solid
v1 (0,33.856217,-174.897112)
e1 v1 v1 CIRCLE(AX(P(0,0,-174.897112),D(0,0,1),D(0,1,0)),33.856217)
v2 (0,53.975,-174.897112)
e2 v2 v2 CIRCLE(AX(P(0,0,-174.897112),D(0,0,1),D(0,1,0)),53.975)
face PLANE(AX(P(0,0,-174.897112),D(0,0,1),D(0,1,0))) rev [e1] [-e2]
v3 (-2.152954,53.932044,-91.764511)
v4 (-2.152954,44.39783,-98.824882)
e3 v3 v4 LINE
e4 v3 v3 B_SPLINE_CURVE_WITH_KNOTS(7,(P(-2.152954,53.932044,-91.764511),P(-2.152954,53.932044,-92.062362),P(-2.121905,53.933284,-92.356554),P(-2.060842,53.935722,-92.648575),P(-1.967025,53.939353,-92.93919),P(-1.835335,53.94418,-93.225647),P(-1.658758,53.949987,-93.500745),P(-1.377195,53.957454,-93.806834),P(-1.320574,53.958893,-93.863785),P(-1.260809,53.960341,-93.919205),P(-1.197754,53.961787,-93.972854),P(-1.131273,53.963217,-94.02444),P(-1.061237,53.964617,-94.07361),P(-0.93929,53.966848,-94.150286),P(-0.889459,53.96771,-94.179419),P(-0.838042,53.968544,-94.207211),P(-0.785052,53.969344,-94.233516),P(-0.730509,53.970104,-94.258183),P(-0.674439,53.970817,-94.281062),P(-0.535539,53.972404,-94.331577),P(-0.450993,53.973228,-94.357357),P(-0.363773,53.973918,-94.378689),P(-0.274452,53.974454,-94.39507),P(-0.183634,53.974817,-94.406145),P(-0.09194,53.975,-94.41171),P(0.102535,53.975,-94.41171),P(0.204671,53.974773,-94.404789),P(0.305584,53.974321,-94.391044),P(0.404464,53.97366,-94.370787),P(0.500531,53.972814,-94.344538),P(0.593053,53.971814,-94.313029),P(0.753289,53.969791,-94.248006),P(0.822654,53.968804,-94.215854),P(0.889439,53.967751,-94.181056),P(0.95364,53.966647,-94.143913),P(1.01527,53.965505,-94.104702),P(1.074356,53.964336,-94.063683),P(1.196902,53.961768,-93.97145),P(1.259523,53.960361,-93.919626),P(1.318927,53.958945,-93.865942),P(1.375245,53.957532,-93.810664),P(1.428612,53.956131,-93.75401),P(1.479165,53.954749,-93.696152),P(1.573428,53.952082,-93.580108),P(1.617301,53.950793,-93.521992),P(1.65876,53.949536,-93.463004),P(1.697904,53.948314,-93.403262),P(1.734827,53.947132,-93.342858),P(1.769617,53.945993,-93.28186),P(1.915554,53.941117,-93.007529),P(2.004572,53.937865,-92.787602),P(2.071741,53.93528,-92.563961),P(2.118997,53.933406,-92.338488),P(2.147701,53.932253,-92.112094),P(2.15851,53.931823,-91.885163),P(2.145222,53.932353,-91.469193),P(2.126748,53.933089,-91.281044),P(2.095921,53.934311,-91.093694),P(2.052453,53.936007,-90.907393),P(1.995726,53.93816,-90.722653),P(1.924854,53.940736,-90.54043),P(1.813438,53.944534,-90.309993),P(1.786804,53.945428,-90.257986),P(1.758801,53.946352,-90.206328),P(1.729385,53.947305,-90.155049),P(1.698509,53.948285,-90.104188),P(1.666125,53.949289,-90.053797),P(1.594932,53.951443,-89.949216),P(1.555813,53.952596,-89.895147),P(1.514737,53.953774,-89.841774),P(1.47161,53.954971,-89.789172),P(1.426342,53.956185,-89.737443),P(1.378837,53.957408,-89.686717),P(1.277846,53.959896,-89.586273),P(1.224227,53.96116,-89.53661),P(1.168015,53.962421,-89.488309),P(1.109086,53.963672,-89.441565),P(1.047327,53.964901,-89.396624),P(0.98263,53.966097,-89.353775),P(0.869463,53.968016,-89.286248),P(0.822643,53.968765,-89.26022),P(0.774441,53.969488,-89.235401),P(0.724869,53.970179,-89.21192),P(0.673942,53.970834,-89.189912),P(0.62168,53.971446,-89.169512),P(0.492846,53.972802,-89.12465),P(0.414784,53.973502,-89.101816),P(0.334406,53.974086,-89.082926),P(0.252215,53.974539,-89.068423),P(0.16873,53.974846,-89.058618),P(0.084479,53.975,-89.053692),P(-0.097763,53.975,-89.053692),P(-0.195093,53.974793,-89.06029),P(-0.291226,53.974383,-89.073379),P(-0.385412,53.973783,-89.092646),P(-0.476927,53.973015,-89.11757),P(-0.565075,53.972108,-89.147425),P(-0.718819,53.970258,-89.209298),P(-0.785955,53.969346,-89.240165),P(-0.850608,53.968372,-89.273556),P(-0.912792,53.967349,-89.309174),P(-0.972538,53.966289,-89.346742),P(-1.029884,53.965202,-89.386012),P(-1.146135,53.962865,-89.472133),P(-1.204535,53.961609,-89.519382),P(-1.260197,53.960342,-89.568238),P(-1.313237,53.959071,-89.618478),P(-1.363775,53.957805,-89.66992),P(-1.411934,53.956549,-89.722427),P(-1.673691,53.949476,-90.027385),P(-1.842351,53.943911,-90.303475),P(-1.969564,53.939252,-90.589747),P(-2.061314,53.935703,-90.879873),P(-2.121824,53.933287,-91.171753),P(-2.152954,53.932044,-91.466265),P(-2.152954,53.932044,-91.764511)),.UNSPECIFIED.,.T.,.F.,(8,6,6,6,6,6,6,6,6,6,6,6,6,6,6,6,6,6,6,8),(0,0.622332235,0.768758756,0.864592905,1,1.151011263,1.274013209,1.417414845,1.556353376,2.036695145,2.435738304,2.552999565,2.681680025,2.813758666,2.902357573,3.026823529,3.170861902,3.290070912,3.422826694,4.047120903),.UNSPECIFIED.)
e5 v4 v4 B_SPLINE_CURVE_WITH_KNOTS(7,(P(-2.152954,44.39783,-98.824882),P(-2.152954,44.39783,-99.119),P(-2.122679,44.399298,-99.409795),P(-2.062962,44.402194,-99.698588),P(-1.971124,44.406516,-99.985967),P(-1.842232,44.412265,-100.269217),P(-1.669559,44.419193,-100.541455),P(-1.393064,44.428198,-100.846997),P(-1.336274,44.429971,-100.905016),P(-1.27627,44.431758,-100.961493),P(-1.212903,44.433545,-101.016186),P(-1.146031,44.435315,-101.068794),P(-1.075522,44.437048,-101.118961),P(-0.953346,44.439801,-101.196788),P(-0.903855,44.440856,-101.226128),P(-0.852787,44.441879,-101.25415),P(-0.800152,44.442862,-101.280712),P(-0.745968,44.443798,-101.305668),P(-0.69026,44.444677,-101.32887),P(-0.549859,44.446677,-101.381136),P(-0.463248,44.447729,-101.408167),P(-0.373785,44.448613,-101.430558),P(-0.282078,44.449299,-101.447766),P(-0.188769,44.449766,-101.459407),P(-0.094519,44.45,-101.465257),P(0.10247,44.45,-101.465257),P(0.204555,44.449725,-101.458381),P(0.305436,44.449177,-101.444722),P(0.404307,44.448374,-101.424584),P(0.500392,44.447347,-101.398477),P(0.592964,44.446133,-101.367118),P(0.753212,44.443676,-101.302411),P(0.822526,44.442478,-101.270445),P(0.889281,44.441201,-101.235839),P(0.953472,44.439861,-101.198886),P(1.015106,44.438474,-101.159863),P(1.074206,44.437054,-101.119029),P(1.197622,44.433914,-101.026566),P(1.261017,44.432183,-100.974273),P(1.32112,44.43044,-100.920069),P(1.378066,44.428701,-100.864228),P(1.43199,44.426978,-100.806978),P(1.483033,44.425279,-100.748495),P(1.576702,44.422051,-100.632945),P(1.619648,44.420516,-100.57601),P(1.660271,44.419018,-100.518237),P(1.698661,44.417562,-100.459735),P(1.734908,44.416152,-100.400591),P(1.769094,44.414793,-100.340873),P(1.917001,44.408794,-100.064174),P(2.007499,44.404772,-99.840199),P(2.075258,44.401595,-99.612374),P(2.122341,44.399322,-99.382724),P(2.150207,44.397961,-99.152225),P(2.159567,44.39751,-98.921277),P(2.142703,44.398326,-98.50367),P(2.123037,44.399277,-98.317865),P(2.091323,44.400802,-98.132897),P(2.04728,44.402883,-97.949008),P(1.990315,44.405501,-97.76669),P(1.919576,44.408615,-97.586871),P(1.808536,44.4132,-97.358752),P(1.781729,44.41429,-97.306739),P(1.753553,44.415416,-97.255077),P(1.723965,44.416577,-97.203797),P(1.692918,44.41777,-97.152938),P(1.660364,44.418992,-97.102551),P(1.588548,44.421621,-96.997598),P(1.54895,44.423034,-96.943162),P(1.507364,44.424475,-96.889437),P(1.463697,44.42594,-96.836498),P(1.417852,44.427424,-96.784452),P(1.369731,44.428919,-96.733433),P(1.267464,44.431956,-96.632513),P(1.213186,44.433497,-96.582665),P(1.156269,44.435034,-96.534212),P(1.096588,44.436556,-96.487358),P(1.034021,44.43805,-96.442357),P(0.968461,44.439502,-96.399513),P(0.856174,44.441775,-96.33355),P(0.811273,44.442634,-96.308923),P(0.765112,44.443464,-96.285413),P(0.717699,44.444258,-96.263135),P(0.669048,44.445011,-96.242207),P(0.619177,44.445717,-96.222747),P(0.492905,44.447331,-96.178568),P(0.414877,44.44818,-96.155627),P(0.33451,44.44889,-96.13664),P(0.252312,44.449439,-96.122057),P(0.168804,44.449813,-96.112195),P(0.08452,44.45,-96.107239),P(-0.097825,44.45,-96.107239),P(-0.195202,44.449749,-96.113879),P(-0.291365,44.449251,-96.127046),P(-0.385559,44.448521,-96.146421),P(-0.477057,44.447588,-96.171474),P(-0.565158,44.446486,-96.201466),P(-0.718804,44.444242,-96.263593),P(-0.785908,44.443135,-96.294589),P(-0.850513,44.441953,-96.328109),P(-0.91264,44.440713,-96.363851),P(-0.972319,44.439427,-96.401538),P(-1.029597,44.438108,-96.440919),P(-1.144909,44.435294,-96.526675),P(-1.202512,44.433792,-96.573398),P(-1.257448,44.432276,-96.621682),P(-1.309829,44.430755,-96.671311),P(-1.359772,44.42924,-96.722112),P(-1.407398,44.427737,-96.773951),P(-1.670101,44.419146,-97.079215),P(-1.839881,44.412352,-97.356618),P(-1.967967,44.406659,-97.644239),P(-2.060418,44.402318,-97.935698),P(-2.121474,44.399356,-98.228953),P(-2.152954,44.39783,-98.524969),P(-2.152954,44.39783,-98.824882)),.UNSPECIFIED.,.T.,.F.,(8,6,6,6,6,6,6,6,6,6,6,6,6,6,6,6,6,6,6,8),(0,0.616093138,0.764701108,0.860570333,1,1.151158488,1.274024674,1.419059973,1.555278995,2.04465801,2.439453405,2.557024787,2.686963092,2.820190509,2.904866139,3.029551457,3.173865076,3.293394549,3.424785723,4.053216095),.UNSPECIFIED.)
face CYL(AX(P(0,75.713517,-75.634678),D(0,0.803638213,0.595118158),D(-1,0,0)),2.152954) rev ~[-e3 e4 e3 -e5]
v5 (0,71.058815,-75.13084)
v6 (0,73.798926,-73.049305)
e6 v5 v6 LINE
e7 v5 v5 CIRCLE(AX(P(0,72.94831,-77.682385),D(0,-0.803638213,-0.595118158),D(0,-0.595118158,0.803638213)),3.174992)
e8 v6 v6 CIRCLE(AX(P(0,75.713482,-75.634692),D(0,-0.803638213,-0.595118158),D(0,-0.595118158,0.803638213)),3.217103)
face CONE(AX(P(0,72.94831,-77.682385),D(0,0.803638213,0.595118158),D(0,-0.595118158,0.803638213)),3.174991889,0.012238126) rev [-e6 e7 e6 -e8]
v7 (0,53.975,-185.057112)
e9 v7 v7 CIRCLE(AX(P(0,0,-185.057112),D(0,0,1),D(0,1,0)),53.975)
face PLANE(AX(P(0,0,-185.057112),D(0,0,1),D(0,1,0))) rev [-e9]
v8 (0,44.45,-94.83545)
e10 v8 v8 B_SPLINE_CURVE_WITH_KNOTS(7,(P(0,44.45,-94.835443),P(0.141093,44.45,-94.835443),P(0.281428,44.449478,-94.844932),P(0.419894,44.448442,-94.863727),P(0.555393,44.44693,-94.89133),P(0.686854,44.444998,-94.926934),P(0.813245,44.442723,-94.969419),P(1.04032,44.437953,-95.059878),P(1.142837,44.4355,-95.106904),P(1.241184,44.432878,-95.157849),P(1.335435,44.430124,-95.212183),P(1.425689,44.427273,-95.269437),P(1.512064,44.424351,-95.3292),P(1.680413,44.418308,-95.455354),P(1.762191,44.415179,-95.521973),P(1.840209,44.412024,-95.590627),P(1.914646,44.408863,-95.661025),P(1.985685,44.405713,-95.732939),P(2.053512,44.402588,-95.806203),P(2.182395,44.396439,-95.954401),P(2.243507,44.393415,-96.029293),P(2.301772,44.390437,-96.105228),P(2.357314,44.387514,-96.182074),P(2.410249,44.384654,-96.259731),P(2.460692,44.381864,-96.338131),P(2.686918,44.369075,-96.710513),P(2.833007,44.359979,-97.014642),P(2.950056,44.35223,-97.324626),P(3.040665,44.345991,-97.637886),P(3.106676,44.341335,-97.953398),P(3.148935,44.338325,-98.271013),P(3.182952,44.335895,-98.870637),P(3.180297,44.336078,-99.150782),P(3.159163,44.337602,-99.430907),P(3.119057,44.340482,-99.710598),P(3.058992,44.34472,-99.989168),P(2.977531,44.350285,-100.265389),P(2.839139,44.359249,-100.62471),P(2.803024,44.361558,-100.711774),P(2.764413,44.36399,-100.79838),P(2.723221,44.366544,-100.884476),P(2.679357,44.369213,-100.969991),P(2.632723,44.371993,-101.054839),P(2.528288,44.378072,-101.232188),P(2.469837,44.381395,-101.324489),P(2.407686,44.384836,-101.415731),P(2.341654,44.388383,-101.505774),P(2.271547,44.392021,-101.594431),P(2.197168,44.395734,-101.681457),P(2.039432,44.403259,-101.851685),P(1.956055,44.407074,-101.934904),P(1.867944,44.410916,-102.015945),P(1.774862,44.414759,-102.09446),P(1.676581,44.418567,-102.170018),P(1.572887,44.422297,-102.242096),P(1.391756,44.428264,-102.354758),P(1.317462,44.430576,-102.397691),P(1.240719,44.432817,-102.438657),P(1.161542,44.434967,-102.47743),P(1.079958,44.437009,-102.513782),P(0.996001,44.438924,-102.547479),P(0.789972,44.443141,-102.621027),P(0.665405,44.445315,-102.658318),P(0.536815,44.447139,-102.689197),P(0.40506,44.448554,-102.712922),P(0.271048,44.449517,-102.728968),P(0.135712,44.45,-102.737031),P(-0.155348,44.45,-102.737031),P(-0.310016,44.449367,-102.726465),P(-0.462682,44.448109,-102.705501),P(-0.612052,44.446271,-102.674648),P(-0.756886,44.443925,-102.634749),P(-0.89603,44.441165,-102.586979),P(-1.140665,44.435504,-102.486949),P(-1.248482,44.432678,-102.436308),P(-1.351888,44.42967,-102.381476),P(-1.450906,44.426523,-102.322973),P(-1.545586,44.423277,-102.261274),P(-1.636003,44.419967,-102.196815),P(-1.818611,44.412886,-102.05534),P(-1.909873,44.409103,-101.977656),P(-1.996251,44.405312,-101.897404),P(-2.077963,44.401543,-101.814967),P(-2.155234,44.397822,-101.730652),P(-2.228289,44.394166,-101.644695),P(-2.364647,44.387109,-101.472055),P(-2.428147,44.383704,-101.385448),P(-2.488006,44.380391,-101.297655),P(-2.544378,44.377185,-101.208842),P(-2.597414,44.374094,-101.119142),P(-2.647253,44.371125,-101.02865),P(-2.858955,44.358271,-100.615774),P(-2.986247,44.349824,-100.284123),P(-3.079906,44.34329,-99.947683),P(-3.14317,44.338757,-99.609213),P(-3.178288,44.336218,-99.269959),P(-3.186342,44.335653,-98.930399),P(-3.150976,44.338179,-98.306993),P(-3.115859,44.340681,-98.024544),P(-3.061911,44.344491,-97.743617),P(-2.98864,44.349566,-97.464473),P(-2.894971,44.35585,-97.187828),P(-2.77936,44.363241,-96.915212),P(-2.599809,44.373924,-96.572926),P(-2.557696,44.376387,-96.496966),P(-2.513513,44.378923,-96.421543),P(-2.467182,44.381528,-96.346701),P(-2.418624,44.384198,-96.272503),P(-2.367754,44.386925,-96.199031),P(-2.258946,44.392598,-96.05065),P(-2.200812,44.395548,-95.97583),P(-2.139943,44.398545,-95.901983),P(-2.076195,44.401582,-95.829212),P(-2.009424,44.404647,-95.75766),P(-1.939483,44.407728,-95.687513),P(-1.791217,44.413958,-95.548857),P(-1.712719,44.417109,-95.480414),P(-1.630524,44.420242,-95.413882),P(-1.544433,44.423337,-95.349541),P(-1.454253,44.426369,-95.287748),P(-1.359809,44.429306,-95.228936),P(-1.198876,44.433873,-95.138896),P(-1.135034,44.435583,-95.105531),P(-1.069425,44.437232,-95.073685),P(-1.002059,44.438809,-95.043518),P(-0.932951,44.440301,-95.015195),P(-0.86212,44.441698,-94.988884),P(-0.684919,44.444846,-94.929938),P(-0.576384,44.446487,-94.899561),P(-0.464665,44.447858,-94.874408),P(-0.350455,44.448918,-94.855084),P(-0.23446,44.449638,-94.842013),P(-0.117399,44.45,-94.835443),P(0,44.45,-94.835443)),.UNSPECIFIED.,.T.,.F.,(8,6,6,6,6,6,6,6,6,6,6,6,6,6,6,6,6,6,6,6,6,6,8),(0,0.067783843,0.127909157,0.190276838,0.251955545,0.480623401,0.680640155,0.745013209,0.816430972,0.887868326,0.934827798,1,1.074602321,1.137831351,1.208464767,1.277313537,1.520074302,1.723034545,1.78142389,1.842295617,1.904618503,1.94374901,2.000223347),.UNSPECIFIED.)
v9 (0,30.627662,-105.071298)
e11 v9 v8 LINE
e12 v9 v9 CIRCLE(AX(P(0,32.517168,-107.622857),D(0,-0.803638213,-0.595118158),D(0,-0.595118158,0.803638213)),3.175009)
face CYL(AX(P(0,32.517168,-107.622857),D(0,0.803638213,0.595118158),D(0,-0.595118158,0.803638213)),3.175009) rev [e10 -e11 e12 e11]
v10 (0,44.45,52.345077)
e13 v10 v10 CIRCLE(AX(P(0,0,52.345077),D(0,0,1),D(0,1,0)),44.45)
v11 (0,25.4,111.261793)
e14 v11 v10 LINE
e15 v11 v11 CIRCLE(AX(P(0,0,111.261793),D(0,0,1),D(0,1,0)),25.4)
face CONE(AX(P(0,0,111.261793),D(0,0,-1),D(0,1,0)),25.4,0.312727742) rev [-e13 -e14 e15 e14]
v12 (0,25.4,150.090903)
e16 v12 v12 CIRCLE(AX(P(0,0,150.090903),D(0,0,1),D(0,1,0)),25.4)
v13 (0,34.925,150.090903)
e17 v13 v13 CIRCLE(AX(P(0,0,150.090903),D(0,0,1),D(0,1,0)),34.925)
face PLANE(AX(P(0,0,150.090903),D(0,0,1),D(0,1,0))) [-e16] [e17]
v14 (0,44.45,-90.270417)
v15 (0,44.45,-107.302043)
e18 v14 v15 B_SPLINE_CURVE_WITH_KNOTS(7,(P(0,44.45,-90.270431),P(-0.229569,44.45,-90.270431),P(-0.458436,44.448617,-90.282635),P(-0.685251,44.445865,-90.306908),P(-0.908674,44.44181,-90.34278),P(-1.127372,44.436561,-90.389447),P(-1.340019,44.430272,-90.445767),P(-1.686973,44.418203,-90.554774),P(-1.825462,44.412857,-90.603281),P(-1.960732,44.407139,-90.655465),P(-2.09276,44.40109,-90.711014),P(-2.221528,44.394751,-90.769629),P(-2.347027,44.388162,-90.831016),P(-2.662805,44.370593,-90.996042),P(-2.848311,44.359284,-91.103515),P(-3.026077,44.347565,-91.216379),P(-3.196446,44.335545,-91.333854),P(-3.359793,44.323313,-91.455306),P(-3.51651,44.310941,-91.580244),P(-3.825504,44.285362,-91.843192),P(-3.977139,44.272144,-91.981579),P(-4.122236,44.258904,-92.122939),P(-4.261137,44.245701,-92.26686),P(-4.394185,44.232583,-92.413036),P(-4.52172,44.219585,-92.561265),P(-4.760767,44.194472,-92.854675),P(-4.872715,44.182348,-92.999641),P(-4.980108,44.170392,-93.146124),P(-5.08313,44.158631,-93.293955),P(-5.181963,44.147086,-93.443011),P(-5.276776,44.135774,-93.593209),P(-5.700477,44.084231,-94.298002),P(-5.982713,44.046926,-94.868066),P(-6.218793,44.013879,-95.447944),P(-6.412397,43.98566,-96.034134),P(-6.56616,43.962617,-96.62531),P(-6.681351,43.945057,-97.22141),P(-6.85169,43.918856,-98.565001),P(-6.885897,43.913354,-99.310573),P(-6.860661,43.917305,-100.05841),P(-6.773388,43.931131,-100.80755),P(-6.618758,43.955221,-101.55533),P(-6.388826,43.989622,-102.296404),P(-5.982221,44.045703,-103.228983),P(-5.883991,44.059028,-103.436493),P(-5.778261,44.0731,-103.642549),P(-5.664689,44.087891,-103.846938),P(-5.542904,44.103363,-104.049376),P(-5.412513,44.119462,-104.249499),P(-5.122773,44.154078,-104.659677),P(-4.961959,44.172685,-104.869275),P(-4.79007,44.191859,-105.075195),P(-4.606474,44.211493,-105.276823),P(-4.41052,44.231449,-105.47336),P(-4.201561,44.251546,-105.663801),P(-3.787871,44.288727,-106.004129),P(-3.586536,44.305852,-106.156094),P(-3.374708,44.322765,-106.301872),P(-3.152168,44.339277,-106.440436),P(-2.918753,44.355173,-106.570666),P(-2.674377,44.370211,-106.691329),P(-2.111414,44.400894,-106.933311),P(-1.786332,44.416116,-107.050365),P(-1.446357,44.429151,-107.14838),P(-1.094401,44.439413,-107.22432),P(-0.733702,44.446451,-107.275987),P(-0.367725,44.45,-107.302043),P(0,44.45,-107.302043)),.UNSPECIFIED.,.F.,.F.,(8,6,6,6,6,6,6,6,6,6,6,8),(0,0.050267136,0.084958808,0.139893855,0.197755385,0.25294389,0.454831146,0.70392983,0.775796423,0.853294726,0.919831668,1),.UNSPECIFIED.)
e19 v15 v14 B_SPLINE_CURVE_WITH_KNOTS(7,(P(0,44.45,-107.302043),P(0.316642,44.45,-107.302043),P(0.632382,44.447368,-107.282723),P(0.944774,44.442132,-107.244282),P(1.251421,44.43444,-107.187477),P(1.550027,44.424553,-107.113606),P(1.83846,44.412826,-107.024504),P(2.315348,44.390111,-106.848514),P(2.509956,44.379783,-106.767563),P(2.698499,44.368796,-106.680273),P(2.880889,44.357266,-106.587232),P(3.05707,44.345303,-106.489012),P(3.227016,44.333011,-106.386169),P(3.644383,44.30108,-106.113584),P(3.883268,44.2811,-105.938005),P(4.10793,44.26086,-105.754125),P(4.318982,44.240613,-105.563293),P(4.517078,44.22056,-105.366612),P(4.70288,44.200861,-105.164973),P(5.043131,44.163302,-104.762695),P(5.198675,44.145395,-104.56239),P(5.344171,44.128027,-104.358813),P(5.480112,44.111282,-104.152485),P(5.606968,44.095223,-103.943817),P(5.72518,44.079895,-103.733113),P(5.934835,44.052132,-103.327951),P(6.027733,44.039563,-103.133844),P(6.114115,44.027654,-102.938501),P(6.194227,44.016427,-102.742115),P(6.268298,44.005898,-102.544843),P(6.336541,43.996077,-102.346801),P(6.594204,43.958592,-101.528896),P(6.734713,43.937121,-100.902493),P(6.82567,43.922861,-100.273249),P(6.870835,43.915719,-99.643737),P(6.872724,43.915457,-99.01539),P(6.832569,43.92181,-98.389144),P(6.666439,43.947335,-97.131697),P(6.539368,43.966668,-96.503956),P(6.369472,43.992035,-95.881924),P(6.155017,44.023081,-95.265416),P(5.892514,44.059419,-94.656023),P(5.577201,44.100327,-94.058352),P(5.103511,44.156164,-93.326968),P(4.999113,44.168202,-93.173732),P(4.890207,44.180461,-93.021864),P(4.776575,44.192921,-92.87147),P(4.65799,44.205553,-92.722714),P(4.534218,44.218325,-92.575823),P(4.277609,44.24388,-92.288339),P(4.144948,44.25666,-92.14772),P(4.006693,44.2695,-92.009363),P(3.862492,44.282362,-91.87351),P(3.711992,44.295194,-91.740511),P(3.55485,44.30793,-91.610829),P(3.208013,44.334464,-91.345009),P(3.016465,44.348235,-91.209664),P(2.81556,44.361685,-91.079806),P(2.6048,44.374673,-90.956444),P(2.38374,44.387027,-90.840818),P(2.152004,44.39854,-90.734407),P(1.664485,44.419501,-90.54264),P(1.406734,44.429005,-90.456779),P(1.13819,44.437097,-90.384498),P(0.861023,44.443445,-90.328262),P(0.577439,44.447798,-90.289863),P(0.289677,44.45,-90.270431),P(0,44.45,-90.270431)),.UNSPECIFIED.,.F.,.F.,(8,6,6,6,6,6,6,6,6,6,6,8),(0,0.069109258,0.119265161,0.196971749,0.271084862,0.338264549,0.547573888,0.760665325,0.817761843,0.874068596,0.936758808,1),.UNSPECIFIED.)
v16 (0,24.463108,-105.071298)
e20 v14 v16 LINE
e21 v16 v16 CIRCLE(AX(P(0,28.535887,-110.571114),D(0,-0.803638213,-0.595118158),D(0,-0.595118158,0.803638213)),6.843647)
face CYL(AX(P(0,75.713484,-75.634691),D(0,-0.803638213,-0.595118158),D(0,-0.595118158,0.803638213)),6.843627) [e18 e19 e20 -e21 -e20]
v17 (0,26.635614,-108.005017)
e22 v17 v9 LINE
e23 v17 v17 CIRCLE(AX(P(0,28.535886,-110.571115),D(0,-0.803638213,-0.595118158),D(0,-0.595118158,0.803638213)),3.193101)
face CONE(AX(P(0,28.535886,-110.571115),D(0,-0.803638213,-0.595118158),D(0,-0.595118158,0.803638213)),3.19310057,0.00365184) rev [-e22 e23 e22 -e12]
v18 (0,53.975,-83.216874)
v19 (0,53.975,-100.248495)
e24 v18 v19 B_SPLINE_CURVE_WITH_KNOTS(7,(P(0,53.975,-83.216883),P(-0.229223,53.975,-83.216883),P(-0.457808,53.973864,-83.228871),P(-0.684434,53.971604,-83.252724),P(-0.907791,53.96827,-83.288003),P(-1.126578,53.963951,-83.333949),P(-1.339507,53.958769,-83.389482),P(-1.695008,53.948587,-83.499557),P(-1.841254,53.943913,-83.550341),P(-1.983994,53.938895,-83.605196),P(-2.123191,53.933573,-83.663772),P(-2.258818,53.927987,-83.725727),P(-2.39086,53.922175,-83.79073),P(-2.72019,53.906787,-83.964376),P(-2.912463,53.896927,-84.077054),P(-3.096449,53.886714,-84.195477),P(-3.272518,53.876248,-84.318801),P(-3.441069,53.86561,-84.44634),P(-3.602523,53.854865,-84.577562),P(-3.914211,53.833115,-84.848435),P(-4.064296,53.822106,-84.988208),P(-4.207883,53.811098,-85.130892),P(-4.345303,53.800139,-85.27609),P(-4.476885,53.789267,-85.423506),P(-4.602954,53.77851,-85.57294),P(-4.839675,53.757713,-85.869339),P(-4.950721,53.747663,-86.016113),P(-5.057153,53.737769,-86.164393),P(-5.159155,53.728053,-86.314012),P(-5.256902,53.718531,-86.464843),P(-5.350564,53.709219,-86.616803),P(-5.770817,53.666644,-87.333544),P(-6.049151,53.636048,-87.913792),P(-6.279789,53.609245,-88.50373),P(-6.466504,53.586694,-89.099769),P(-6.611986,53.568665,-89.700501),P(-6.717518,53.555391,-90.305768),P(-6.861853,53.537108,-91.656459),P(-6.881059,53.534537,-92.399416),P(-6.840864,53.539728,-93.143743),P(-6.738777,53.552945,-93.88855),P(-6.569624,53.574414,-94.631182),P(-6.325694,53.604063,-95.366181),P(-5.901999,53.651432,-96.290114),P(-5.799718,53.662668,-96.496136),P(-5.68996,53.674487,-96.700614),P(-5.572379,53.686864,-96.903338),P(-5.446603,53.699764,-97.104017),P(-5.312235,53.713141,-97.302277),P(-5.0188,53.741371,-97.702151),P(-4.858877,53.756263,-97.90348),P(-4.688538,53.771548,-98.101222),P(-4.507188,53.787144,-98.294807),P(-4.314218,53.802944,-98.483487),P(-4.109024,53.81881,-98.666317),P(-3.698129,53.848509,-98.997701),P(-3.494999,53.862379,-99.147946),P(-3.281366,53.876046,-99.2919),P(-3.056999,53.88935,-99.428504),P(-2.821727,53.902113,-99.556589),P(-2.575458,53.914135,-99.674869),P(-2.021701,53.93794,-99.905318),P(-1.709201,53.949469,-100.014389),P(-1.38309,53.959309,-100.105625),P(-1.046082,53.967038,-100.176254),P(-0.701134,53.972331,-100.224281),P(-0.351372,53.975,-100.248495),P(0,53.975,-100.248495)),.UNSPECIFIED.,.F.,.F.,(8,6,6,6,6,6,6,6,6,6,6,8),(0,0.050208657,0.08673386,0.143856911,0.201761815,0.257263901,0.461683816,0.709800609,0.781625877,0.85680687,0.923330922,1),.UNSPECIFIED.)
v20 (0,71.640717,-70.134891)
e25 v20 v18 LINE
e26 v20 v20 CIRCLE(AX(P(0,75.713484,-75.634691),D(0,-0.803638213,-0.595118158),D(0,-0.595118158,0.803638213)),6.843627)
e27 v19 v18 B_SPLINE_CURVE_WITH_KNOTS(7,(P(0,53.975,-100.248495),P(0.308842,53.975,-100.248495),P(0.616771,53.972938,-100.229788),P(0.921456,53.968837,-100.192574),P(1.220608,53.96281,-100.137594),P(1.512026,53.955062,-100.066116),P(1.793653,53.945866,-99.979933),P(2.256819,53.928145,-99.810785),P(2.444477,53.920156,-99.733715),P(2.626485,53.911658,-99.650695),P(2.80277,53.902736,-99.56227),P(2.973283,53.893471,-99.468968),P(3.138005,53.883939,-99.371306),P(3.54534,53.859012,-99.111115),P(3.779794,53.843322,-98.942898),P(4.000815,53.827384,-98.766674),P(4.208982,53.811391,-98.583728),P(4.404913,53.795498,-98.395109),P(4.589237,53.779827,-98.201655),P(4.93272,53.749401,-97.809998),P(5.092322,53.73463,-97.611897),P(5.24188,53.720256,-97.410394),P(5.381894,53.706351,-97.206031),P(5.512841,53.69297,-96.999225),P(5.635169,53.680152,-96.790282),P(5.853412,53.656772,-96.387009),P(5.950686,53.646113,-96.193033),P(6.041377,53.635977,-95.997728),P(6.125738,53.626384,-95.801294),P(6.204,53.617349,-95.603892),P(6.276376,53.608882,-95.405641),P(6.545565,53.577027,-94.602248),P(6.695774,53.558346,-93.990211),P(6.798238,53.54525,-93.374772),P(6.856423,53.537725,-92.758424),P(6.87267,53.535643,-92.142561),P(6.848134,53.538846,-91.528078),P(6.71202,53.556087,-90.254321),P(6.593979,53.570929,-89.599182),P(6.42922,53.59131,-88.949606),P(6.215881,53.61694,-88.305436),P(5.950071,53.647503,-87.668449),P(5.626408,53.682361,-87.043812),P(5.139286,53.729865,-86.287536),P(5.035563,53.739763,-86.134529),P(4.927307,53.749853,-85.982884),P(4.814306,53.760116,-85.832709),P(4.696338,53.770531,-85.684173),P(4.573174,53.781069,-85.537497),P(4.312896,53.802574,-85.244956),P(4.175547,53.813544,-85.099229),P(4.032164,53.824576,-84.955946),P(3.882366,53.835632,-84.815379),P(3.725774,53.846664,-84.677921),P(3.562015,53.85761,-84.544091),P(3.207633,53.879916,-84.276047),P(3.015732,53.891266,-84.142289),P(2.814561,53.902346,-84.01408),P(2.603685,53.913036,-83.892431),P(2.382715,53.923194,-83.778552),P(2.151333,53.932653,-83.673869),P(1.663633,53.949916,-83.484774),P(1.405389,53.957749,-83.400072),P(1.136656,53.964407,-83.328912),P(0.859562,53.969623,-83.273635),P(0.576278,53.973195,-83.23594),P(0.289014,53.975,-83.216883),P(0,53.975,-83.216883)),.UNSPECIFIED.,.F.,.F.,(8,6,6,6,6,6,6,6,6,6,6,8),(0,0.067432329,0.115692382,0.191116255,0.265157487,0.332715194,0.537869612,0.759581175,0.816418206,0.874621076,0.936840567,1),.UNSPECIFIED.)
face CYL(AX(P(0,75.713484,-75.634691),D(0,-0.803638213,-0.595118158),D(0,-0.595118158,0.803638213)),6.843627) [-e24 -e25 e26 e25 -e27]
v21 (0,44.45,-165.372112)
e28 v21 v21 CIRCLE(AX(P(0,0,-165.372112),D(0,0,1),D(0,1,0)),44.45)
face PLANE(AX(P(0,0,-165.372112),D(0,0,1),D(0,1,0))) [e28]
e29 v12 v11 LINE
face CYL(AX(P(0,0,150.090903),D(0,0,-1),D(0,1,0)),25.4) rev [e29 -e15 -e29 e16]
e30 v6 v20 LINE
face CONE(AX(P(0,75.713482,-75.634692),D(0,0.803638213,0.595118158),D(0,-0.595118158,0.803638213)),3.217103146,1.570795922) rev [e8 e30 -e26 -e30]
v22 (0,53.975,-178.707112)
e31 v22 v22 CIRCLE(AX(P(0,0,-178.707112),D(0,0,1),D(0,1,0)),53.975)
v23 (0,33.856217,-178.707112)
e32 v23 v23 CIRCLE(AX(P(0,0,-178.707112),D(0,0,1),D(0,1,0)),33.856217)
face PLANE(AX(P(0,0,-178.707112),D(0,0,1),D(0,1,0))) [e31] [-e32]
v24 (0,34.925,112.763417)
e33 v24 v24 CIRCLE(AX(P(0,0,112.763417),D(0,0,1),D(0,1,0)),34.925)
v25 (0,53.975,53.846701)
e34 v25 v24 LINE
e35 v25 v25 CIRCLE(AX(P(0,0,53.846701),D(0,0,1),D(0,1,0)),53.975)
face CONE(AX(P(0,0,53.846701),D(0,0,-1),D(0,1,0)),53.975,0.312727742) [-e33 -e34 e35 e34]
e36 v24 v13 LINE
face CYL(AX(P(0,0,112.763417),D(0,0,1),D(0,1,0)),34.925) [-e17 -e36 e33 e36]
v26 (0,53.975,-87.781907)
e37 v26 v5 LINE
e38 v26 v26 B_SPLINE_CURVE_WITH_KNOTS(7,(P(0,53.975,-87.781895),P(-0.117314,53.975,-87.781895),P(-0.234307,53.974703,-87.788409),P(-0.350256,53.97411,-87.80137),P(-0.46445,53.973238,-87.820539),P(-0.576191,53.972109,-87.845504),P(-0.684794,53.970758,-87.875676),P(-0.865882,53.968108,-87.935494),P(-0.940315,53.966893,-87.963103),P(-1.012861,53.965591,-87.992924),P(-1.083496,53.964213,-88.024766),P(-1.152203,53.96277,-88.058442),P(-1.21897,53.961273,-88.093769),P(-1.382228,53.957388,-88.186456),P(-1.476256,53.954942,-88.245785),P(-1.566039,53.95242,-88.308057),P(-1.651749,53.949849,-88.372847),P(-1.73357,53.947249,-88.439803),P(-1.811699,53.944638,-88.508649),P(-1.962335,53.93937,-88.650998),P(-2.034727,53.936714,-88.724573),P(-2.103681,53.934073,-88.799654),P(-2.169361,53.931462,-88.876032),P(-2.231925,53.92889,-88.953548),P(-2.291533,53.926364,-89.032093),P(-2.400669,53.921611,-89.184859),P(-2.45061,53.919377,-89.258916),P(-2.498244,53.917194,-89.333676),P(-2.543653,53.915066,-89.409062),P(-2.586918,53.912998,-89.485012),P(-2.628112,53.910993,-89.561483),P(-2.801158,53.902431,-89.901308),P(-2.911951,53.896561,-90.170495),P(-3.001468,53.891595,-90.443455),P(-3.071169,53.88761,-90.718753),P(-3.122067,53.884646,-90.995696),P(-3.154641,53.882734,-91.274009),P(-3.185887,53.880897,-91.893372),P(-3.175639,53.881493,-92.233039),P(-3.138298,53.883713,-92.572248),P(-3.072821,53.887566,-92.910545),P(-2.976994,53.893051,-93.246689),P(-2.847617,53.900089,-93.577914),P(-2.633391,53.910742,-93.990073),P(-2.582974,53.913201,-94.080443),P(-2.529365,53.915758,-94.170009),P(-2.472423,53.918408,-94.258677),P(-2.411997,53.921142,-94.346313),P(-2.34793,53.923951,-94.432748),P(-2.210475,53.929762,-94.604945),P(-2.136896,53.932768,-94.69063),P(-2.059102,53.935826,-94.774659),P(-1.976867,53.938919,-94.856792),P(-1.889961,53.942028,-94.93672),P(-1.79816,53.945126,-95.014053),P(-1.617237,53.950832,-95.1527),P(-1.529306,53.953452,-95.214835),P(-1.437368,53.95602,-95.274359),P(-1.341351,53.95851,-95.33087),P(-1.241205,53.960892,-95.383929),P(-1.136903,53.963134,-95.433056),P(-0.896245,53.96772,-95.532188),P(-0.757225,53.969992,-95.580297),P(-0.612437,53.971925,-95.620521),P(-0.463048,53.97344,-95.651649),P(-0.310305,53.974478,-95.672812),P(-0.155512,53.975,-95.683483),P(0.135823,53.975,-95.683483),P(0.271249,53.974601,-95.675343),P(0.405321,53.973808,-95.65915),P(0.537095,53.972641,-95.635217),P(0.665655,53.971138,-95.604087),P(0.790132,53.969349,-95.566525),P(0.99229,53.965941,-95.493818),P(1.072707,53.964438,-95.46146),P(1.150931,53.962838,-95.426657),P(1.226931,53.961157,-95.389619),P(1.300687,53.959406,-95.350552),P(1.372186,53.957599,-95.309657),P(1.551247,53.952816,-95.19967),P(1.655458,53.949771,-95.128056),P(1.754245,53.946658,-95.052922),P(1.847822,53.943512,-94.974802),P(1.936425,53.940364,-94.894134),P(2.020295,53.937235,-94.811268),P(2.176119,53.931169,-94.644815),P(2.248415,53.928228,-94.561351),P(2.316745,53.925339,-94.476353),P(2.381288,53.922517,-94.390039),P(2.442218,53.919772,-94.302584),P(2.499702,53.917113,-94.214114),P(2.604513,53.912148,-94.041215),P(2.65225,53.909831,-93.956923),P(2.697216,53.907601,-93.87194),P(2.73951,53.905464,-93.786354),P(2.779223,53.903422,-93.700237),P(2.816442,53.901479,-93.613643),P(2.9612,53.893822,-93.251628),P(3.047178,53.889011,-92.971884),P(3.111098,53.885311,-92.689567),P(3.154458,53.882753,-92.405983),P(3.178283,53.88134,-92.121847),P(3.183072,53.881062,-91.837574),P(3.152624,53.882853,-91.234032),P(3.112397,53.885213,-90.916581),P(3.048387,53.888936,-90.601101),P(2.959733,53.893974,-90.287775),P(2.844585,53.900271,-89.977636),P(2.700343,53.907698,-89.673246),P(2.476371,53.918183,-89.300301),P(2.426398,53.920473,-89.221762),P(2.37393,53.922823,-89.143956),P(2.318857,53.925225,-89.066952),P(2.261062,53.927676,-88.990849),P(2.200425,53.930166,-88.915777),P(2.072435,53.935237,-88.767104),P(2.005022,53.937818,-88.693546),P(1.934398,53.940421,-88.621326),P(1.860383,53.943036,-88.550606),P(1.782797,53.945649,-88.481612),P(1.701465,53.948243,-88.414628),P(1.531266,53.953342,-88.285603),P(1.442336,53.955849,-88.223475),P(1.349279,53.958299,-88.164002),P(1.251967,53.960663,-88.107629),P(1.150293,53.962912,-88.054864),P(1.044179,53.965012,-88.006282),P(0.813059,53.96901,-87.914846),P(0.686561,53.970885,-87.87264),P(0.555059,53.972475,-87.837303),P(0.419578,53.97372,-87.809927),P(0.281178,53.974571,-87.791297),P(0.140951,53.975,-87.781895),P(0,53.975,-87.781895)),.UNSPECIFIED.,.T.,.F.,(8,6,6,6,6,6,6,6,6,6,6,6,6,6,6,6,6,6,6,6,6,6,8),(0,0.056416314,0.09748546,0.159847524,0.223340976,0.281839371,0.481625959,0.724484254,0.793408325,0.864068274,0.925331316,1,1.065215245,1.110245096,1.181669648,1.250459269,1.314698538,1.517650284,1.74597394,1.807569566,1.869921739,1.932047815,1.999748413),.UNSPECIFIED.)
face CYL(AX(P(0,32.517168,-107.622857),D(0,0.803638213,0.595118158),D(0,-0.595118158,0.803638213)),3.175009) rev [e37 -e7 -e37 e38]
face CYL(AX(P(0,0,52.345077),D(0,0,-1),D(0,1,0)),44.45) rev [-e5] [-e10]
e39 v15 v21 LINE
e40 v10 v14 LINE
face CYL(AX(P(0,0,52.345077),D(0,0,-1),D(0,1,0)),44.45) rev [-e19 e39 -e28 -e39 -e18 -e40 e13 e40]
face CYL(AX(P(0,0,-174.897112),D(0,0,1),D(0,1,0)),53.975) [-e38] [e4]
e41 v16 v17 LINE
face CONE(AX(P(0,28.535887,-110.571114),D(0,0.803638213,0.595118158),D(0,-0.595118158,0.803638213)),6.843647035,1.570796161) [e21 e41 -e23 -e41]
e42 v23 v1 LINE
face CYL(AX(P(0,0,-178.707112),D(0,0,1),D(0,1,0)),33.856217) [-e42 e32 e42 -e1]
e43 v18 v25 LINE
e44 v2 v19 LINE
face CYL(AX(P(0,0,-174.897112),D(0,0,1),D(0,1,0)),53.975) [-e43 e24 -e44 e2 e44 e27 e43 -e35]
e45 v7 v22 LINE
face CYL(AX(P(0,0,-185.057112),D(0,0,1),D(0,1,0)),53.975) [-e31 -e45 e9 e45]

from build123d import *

# Parameters (mm, degrees)
F4_R     = 2.152954
F5_DEPTH = 50.8


with BuildPart() as f1:
    # F0 (on Right) → F1 (revolve)
    with BuildSketch(Plane.YZ):
        Polygon((0, -174.897112), (0, -185.057112), (53.975, -185.057112), (53.975, -178.707112), (33.856217, -178.707112), (33.856217, -174.897112), align=None)
        Polygon((0, -165.372112), (0, -174.897112), (33.856217, -174.897112), (44.45, -165.372112), align=None)
        Polygon((44.45, -165.372112), (33.856217, -174.897112), (53.975, -174.897112), (53.975, 53.846701), (34.925, 112.763417), (34.925, 150.090903), (25.4, 150.090903), (25.4, 111.261793), (44.45, 52.345077), align=None)
    revolve(axis=Axis((0, 0, 8.948858), (0, 0, 1)))

    # F2 (on Right) → F3 (revolve)
    with BuildSketch(Plane.YZ):
        Polygon((71.640717, -70.134891), (24.463108, -105.071298), (26.635614, -108.005017), (30.627662, -105.071298), (71.058815, -75.13084), (73.798926, -73.049305), align=None)
    revolve(axis=Axis((0, 52.4091, -92.892285), (0, -0.803638, -0.595118)))

    # F4 (on face) → F5 (cut)
    with BuildSketch(Plane(origin=(0, 12.725377, 9.423516), x_dir=(-1, 0, 0), z_dir=(0, 0.803638, 0.595118))):
        with Locations((0, -105.841401)):
            Circle(F4_R)
    extrude(amount=-F5_DEPTH, mode=Mode.SUBTRACT)


solid = f1.part
